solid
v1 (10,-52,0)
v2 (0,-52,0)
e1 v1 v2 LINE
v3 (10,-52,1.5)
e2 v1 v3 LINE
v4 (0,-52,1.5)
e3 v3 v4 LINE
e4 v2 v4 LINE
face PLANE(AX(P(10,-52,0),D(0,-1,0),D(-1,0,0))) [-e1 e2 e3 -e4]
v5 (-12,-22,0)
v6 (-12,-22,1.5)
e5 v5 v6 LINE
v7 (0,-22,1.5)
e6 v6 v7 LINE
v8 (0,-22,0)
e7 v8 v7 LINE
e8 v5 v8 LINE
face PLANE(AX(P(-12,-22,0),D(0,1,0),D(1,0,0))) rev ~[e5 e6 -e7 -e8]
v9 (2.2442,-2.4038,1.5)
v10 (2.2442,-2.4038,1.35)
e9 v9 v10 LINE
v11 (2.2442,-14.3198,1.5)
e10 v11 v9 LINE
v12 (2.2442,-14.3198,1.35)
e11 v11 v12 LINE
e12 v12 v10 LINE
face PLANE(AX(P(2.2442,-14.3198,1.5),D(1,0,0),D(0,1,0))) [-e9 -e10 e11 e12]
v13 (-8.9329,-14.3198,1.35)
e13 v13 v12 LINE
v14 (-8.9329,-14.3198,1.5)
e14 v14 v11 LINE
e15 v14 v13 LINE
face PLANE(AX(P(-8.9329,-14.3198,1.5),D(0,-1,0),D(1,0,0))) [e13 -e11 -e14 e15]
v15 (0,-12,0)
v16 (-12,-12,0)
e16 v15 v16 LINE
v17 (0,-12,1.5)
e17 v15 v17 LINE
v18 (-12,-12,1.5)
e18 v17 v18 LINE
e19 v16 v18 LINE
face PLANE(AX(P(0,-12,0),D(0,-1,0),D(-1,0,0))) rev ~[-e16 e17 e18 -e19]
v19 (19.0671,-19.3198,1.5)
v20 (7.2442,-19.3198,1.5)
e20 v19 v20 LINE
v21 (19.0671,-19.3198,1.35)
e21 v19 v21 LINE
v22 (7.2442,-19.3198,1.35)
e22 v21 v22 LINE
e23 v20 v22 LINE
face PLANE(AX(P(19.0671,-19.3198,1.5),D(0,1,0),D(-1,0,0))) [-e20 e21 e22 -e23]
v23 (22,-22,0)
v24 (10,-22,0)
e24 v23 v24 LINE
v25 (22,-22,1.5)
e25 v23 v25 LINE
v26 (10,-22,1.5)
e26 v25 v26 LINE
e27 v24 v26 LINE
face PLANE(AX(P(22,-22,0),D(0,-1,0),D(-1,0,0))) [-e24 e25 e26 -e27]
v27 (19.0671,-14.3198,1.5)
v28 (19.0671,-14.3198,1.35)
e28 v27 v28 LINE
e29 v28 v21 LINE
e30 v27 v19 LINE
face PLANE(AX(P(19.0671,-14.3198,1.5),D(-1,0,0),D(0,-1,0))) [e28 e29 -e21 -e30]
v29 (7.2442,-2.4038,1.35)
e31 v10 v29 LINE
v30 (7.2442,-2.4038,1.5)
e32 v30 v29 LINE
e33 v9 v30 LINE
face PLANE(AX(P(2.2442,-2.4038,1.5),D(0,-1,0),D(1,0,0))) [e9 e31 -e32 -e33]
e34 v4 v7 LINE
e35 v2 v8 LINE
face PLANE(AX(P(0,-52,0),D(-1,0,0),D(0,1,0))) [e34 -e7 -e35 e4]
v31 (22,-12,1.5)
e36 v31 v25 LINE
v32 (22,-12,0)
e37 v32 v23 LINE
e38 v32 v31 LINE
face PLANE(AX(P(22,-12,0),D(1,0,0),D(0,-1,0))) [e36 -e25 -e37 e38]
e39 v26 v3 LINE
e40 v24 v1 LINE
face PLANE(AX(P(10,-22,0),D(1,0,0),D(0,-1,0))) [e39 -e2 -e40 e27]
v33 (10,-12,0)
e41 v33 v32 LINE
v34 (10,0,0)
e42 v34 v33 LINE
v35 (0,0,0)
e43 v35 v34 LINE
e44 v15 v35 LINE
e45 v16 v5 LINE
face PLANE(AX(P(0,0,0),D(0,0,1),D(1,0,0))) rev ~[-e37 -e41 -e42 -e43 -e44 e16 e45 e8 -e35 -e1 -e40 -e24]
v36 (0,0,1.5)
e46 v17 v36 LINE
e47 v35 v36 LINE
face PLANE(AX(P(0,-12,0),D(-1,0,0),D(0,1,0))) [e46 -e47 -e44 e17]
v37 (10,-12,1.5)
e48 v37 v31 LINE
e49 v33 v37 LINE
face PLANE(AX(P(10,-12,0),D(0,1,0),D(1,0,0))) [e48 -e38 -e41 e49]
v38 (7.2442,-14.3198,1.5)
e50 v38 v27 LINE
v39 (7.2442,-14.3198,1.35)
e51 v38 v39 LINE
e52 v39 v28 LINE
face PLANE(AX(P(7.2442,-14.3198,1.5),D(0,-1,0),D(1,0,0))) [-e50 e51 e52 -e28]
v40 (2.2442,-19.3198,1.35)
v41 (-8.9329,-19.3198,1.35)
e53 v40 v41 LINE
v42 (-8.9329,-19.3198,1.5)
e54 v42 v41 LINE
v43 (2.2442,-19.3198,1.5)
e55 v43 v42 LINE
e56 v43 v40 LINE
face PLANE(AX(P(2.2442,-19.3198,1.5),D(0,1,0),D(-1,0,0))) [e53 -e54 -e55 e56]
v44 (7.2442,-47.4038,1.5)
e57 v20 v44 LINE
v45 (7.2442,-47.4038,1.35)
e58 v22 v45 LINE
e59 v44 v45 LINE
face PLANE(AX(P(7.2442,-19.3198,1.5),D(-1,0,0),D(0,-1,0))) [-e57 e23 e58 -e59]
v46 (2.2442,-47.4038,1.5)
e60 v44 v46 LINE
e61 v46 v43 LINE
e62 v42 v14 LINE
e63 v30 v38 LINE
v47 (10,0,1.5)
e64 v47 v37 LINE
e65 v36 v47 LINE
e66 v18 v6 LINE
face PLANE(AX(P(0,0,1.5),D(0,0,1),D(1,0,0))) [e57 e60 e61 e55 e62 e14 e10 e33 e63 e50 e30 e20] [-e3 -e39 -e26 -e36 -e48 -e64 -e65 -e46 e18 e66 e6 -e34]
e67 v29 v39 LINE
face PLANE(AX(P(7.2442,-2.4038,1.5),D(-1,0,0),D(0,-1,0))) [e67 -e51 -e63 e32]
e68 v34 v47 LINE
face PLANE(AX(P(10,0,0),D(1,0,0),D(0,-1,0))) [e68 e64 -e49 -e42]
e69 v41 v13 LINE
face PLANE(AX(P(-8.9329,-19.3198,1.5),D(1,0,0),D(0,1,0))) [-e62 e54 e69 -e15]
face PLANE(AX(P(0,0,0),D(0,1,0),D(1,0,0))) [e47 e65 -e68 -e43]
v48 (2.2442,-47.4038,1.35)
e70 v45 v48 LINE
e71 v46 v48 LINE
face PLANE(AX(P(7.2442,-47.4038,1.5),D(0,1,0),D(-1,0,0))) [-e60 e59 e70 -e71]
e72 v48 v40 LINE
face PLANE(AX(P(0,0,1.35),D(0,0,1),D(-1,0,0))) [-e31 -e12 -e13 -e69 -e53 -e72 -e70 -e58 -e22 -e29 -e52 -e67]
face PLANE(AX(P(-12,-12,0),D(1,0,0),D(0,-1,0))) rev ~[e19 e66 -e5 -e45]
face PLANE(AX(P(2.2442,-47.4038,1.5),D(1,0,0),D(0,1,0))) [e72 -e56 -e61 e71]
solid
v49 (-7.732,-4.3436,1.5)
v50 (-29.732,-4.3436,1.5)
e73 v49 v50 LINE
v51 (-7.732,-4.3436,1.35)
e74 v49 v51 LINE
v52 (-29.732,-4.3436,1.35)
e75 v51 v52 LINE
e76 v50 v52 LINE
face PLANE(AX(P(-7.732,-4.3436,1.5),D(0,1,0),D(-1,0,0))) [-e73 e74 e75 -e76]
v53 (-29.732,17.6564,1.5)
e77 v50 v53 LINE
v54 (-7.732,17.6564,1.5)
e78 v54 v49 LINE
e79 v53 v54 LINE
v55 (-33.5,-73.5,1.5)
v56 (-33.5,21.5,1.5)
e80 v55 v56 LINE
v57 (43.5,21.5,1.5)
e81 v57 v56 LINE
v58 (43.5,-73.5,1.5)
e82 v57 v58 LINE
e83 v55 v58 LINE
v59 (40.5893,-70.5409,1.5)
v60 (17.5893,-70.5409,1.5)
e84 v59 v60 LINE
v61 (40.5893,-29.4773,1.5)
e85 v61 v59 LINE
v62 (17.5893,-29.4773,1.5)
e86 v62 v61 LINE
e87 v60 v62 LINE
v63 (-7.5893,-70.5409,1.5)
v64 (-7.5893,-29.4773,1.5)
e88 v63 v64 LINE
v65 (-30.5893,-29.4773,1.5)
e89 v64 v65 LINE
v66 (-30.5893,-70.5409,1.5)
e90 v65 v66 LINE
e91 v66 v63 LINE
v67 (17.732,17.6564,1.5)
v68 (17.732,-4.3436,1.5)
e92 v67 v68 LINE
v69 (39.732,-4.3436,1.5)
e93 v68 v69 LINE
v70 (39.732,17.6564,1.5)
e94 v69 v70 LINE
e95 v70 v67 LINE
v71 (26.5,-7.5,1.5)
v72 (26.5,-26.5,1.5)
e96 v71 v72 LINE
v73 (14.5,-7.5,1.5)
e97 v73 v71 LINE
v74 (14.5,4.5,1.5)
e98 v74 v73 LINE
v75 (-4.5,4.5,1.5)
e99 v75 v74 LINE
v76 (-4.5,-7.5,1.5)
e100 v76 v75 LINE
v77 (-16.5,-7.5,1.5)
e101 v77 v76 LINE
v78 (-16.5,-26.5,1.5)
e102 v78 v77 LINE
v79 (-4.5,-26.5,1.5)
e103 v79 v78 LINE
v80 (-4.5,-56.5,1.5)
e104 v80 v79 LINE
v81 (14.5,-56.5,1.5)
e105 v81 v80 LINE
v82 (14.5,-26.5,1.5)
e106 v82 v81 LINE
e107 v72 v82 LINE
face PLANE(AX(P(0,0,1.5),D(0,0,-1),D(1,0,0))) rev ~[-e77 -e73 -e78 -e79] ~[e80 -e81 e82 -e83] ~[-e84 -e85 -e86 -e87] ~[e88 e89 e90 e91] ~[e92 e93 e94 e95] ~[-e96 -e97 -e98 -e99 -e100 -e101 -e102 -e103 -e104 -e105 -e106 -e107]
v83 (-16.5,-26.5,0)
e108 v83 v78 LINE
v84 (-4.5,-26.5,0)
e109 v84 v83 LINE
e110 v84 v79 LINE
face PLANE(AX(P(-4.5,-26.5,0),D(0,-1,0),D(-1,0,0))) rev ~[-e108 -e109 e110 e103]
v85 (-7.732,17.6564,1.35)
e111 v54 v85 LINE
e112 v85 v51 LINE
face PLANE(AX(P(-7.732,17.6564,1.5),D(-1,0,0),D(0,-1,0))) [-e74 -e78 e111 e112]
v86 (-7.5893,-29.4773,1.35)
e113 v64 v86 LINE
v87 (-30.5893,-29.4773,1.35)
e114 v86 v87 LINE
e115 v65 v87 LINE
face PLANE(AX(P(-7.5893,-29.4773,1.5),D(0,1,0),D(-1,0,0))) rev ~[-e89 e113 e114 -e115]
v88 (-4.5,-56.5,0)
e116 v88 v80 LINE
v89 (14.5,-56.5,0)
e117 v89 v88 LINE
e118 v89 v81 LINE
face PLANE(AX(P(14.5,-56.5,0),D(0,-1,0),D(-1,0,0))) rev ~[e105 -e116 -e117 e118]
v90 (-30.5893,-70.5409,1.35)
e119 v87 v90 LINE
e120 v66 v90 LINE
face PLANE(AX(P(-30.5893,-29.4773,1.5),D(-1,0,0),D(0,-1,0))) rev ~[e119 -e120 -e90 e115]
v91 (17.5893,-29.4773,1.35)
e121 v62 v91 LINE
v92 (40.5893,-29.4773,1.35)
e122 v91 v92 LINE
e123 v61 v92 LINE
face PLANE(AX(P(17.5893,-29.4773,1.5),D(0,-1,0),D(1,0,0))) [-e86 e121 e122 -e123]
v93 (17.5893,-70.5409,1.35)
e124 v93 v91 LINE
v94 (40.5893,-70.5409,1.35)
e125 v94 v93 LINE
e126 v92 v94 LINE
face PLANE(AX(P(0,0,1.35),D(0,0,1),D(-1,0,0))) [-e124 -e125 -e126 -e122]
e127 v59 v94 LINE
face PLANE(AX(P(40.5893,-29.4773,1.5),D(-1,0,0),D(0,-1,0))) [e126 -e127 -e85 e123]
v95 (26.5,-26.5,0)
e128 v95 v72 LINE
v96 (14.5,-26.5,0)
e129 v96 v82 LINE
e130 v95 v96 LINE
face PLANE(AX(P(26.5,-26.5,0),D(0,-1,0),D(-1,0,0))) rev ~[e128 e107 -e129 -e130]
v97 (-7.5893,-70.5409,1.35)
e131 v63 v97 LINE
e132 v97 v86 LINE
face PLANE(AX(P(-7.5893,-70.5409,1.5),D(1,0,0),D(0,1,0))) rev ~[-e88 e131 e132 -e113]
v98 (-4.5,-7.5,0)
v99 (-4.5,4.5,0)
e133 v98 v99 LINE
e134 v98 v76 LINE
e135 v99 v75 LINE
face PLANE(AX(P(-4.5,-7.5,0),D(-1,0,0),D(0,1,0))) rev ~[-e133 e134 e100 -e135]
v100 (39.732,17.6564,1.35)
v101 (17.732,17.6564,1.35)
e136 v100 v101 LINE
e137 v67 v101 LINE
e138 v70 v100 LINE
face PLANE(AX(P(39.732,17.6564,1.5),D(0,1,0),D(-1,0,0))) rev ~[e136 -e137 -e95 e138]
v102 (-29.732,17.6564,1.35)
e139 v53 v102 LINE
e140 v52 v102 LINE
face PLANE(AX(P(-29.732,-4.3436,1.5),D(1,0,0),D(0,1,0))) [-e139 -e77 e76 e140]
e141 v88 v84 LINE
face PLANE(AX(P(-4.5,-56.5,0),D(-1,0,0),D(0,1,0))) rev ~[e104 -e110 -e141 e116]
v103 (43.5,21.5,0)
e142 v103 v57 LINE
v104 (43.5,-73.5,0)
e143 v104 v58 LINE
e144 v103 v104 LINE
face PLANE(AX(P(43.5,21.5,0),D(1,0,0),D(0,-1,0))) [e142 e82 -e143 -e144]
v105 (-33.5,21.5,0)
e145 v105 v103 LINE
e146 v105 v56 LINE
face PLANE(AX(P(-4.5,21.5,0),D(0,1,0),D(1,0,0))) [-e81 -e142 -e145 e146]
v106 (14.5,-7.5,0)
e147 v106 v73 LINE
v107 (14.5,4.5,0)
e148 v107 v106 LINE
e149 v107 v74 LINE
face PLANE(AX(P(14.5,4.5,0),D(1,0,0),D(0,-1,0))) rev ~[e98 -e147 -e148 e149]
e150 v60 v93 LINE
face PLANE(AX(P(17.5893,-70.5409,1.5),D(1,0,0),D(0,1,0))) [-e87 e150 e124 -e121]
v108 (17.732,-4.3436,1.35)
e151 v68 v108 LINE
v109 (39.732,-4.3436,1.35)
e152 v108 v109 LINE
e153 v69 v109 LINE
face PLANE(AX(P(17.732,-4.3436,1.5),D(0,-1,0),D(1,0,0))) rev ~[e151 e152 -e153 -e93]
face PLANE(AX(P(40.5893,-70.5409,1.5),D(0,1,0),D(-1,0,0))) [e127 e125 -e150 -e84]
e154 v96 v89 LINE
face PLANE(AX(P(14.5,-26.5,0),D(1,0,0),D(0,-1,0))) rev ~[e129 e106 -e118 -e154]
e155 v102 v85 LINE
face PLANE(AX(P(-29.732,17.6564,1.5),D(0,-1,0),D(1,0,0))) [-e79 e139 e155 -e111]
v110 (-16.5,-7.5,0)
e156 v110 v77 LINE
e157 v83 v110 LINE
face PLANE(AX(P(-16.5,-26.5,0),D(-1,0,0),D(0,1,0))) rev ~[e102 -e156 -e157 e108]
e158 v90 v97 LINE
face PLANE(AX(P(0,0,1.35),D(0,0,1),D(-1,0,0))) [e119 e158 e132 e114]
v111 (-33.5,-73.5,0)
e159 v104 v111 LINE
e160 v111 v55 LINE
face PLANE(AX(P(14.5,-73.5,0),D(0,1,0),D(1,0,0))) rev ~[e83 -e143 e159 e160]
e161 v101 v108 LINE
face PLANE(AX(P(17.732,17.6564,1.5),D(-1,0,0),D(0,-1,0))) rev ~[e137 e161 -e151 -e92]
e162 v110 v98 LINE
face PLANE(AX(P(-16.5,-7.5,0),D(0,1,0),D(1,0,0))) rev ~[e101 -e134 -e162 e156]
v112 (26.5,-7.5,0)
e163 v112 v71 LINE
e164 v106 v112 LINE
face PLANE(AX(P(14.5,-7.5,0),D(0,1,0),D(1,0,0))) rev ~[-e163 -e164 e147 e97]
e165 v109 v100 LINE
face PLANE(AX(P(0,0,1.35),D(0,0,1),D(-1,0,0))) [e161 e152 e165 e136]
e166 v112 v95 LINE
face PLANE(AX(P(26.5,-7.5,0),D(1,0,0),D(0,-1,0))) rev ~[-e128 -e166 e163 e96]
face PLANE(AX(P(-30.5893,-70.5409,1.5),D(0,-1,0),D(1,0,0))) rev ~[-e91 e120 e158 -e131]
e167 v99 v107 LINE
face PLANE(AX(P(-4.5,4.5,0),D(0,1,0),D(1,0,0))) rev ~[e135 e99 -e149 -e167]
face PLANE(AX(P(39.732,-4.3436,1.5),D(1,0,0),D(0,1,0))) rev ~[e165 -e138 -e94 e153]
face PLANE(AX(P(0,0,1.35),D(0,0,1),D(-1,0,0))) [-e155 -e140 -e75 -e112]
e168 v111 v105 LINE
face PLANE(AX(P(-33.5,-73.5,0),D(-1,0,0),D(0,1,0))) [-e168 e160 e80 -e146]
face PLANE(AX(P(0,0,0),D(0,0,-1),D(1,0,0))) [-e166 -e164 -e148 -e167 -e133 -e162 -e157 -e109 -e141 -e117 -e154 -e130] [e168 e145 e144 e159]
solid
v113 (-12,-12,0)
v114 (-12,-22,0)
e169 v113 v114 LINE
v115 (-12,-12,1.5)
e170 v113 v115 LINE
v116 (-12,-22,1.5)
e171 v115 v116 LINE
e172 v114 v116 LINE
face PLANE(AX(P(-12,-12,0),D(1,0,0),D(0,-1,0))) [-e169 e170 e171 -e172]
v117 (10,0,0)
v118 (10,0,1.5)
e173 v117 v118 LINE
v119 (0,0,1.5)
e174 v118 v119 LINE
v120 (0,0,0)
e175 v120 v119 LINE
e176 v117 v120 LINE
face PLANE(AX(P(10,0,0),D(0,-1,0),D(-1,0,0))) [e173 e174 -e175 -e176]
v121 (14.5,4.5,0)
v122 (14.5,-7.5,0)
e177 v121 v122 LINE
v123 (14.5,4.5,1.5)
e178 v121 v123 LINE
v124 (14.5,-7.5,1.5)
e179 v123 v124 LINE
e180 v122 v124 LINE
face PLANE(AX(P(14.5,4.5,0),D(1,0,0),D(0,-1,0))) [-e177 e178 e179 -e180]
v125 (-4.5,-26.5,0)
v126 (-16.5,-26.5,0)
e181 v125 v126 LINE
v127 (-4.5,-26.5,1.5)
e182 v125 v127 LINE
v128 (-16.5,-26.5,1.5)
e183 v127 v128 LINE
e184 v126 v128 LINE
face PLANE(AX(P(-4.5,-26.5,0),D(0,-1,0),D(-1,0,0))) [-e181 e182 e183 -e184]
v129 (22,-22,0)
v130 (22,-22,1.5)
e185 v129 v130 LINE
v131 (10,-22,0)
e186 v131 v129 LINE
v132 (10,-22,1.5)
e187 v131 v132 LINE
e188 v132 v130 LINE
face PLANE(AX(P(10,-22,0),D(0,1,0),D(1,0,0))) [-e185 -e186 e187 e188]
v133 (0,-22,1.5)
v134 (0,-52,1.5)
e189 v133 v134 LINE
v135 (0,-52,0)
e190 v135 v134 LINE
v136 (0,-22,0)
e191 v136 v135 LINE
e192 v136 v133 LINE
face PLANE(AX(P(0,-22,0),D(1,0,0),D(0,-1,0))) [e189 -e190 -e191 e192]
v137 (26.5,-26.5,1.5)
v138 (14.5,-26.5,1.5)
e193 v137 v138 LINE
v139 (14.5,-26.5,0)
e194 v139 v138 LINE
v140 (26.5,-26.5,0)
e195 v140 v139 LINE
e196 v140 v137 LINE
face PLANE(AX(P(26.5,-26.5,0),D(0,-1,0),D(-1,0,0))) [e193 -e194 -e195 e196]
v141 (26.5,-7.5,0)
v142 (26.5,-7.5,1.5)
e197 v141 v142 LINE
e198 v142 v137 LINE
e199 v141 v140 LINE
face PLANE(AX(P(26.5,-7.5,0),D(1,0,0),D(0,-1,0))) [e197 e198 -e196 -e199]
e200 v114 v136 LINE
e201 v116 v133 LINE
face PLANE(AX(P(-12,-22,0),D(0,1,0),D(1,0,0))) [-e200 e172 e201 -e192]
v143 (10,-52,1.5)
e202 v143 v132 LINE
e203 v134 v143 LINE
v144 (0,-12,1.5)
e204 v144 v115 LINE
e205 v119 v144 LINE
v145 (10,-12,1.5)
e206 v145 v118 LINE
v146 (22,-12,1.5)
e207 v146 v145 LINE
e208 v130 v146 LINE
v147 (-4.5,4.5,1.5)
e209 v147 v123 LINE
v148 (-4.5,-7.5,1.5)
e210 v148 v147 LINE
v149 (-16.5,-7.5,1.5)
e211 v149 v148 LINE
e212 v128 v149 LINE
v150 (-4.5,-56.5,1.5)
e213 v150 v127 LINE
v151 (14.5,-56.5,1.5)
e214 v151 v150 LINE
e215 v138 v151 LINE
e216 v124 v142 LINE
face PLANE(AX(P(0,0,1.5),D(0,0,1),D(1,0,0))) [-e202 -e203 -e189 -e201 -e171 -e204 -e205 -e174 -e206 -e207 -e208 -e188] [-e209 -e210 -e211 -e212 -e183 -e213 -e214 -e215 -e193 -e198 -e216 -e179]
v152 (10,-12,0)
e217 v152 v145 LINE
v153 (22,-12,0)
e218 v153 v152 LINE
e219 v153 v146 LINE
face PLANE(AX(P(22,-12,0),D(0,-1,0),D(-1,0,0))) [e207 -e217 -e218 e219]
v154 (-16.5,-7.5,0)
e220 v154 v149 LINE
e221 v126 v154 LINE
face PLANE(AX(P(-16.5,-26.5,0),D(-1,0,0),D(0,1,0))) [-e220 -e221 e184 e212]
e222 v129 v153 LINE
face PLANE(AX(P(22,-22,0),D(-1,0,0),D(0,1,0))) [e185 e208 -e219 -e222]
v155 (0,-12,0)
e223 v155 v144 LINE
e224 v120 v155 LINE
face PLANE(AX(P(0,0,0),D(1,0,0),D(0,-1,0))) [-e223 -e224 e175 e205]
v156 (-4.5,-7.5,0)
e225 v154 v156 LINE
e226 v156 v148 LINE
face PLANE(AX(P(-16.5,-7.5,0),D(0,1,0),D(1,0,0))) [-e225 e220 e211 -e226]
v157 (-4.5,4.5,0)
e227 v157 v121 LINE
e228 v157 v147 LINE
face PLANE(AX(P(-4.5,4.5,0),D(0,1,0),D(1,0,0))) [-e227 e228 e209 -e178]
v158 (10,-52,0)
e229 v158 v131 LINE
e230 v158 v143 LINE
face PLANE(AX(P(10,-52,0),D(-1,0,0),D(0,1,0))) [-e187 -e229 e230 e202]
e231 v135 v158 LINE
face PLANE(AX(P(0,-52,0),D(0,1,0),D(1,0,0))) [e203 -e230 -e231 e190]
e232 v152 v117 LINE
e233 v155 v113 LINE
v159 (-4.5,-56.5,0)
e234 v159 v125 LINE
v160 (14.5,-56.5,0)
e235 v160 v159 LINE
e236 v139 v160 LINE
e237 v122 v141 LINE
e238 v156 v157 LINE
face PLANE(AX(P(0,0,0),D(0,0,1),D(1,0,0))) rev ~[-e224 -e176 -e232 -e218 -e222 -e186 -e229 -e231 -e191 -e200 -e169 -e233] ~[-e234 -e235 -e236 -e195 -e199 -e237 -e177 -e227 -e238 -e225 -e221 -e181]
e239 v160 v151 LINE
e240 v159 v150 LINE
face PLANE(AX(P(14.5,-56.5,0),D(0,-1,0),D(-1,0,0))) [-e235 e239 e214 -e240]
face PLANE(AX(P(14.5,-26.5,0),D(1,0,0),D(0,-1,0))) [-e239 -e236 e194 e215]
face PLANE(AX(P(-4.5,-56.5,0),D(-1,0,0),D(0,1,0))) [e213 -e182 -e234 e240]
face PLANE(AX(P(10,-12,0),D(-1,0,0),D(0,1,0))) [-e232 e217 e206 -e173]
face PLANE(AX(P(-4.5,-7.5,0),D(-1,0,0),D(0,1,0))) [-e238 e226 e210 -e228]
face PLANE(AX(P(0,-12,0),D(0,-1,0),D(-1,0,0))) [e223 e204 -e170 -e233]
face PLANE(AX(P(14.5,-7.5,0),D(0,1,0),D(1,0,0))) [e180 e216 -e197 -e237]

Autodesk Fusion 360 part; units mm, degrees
sketch "Sketch1" plane through (0, 0, 0) normal (0, 0, 1) x (1, 0, 0)
  line L0 (0, 0) -> (10, 0)
  line L1 (10, 0) -> (10, -12)
  line L2 (10, -12) -> (0, -12)
  line L3 (0, -12) -> (0, 0)
  line L4 (0, -12) -> (-12, -12)
  line L5 (-12, -12) -> (-12, -22)
  line L6 (-12, -22) -> (0, -22)
  line L7 (0, -22) -> (0, -12)
  line L8 (10, -12) -> (22, -12)
  line L9 (22, -12) -> (22, -22)
  line L10 (22, -22) -> (10, -22)
  line L11 (10, -22) -> (10, -12)
  line L12 (0, -22) -> (10, -22)
  line L13 (10, -22) -> (10, -52)
  line L14 (10, -52) -> (0, -52)
  line L15 (0, -52) -> (0, -22)
  dimension "d1" = 10
  dimension "d2" = 12
  dimension "d3" = 12
  dimension "d4" = 10
  dimension "d5" = 12
  dimension "d6" = 10
  dimension "d7" = 30
extrude "Extrude1" add sketch "Sketch1" along normal blind 1.5 makes body 1
sketch "Sketch2" plane through (0, 0, 0) normal (0, 0, -1) x (1, 0, 0)
  line L0 (-12, 12) -> (0, 12)
  line L1 (0, 12) -> (0, 0)
  line L2 (0, 0) -> (10, 0)
  line L3 (10, 0) -> (10, 12)
  line L4 (10, 12) -> (22, 12)
  line L5 (22, 12) -> (22, 22)
  line L6 (22, 22) -> (10, 22)
  line L7 (10, 22) -> (10, 52)
  line L8 (10, 52) -> (0, 52)
  line L9 (0, 52) -> (0, 22)
  line L10 (0, 22) -> (-12, 22)
  line L11 (-12, 22) -> (-12, 12)
  line L12 (26.5, 7.5) -> (26.5, 26.5)
  line L13 (26.5, 26.5) -> (14.5, 26.5)
  line L14 (14.5, 26.5) -> (14.5, 56.5)
  line L15 (14.5, 56.5) -> (-4.5, 56.5)
  line L16 (-4.5, 56.5) -> (-4.5, 26.5)
  line L17 (-4.5, 26.5) -> (-16.5, 26.5)
  line L18 (-16.5, 26.5) -> (-16.5, 7.5)
  line L19 (-16.5, 7.5) -> (-4.5, 7.5)
  line L20 (-4.5, 7.5) -> (-4.5, -4.5)
  line L21 (-4.5, -4.5) -> (14.5, -4.5)
  line L22 (14.5, -4.5) -> (14.5, 7.5)
  line L23 (14.5, 7.5) -> (26.5, 7.5)
  line L24 (-4.5, -4.5) -> (-4.5, -21.5)
  line L25 (14.5, 56.5) -> (14.5, 73.5)
  line L26 (14.5, 73.5) -> (43.5, 73.5)
  line L27 (-4.5, -21.5) -> (-33.5, -21.5)
  line L28 (-33.5, -21.5) -> (43.5, -21.5)
  line L29 (43.5, -21.5) -> (43.5, 73.5)
  line L30 (43.5, 73.5) -> (-33.5, 73.5)
  line L31 (-33.5, 73.5) -> (-33.5, -21.5)
  dimension "d10" = 4.5
  dimension "d11" = 17
  dimension "d13" = 17
  dimension "d14" = 29
  dimension "d15" = 29
extrude "Extrude2" add sketch "Sketch2" against normal blind 1.5 separate body contours L12 L13 L14 L21 L22 L23 L24 L25 L26 L28 L29 L30 | L15 L16 L17 L18 L19 L20 L24 L25 L27 L28 L30 L31 makes body 2
sketch "Sketch3" plane through (0, 0, 1.5) normal (0, 0, 1) x (-1, 0, 0)
  line L0 (-14.5, 7.5) -> (-26.5, 7.5)
  line L1 (-26.5, 7.5) -> (-26.5, 26.5)
  line L2 (-26.5, 26.5) -> (-14.5, 26.5)
  line L3 (-14.5, 26.5) -> (-14.5, 56.5)
  line L4 (-14.5, 56.5) -> (4.5, 56.5)
  line L5 (4.5, 56.5) -> (4.5, 26.5)
  line L6 (4.5, 26.5) -> (16.5, 26.5)
  line L7 (16.5, 26.5) -> (16.5, 7.5)
  line L8 (16.5, 7.5) -> (4.5, 7.5)
  line L9 (4.5, 7.5) -> (4.5, -4.5)
  line L10 (4.5, -4.5) -> (-14.5, -4.5)
  line L11 (-14.5, -4.5) -> (-14.5, 7.5)
  line L12 (33.5, -21.5) -> (33.5, 73.5)
  line L13 (33.5, 73.5) -> (-43.5, 73.5)
  line L14 (-43.5, 73.5) -> (-43.5, -21.5)
  line L15 (-43.5, -21.5) -> (33.5, -21.5)
  line L16 (7.5893, 29.4773) -> (30.5893, 29.4773)
  line L17 (30.5893, 29.4773) -> (30.5893, 70.5409)
  line L18 (30.5893, 70.5409) -> (7.5893, 70.5409)
  line L19 (7.5893, 70.5409) -> (7.5893, 29.4773)
  line L20 (7.732, 4.3436) -> (29.732, 4.3436)
  line L21 (29.732, 4.3436) -> (29.732, -17.6564)
  line L22 (29.732, -17.6564) -> (7.732, -17.6564)
  line L23 (7.732, -17.6564) -> (7.732, 4.3436)
  line L24 (-5, -4.5) -> (-5, -13.4842)
  line L25 (8.9329, 14.3198) -> (-19.0671, 14.3198)
  line L26 (-19.0671, 14.3198) -> (-19.0671, 19.3198)
  line L27 (-19.0671, 19.3198) -> (8.9329, 19.3198)
  line L28 (8.9329, 19.3198) -> (8.9329, 14.3198)
  line L29 (-2.2442, 2.4038) -> (-7.2442, 2.4038)
  line L30 (-7.2442, 2.4038) -> (-7.2442, 47.4038)
  line L31 (-7.2442, 47.4038) -> (-2.2442, 47.4038)
  line L32 (-2.2442, 47.4038) -> (-2.2442, 2.4038)
  line L33 (-17.732, 4.3436) -> (-39.732, 4.3436)
  line L34 (-39.732, 4.3436) -> (-39.732, -17.6564)
  line L35 (-39.732, -17.6564) -> (-17.732, -17.6564)
  line L36 (-17.732, -17.6564) -> (-17.732, 4.3436)
  line L37 (-17.5893, 29.4773) -> (-40.5893, 29.4773)
  line L38 (-17.5893, 70.5409) -> (-17.5893, 29.4773)
  line L39 (-40.5893, 29.4773) -> (-40.5893, 70.5409)
  line L40 (-40.5893, 70.5409) -> (-17.5893, 70.5409)
  dimension "d18" = 23
  dimension "d19" = 22
  dimension "d20" = 22
  dimension "d21" = 28
  dimension "d22" = 5
  dimension "d23" = 5
  dimension "d24" = 45
extrude "Extrude3" cut sketch "Sketch3" against normal blind 0.15 contours L16 L17 L18 L19 | L20 L21 L22 L23 | L25 L27 L28 L32 | L25 L29 L30 L32 | L25 L27 L30 L32 | L25 L26 L27 L30 | L27 L30 L31 L32 | L33 L34 L35 L36 | L37 L38 L39 L40 bodies 1 2
sketch "Sketch4" plane through (0, 0, 0) normal (0, 0, 1) x (1, 0, 0)
  line L0 (0, -12) -> (-12, -12)
  line L1 (0, 0) -> (0, -12)
  line L2 (10, 0) -> (0, 0)
  line L3 (7.2442, -19.3198) -> (7.2442, -47.4038)
  line L4 (7.2442, -47.4038) -> (2.2442, -47.4038)
  line L5 (2.2442, -47.4038) -> (2.2442, -19.3198)
  line L6 (2.2442, -19.3198) -> (-8.9329, -19.3198)
  line L7 (-8.9329, -19.3198) -> (-8.9329, -14.3198)
  line L8 (-8.9329, -14.3198) -> (2.2442, -14.3198)
  line L9 (2.2442, -14.3198) -> (2.2442, -2.4038)
  line L10 (2.2442, -2.4038) -> (7.2442, -2.4038)
  line L11 (7.2442, -2.4038) -> (7.2442, -14.3198)
  line L12 (7.2442, -14.3198) -> (19.0671, -14.3198)
  line L13 (19.0671, -14.3198) -> (19.0671, -19.3198)
  line L14 (19.0671, -19.3198) -> (7.2442, -19.3198)
  line L15 (0, -12) -> (-12, -12)
  line L16 (-12, -12) -> (-12, -22)
  line L17 (-12, -22) -> (0, -22)
  line L18 (0, -22) -> (0, -52)
  line L19 (0, -52) -> (10, -52)
  line L20 (10, -52) -> (10, -22)
  line L21 (10, -22) -> (22, -22)
  line L22 (22, -22) -> (22, -12)
  line L23 (22, -12) -> (10, -12)
  line L24 (10, -12) -> (10, 0)
  line L25 (10, 0) -> (0, 0)
  line L26 (0, 0) -> (0, -12)
  line L27 (39.732, -4.3436) -> (17.732, -4.3436)
  line L28 (17.732, -4.3436) -> (17.732, 17.6564)
  line L29 (17.732, 17.6564) -> (39.732, 17.6564)
  line L30 (39.732, 17.6564) -> (39.732, -4.3436)
  line L31 (-30.5893, -29.4773) -> (-7.5893, -29.4773)
  line L32 (-7.5893, -29.4773) -> (-7.5893, -70.5409)
  line L33 (-7.5893, -70.5409) -> (-30.5893, -70.5409)
  line L34 (-30.5893, -70.5409) -> (-30.5893, -29.4773)
  line L35 (-29.732, -4.3436) -> (-29.732, 17.6564)
  line L36 (-29.732, 17.6564) -> (-7.732, 17.6564)
  line L37 (-7.732, 17.6564) -> (-7.732, -4.3436)
  line L38 (-7.732, -4.3436) -> (-29.732, -4.3436)
  line L39 (17.5893, -29.4773) -> (40.5893, -29.4773)
  line L40 (40.5893, -29.4773) -> (40.5893, -70.5409)
  line L41 (40.5893, -70.5409) -> (17.5893, -70.5409)
  line L42 (17.5893, -70.5409) -> (17.5893, -29.4773)
  line L43 (14.5, -7.5) -> (26.5, -7.5)
  line L44 (26.5, -7.5) -> (26.5, -26.5)
  line L45 (26.5, -26.5) -> (14.5, -26.5)
  line L46 (14.5, -26.5) -> (14.5, -56.5)
  line L47 (14.5, -56.5) -> (-4.5, -56.5)
  line L48 (-4.5, -56.5) -> (-4.5, -26.5)
  line L49 (-4.5, -26.5) -> (-16.5, -26.5)
  line L50 (-16.5, -26.5) -> (-16.5, -7.5)
  line L51 (-16.5, -7.5) -> (-4.5, -7.5)
  line L52 (-4.5, -7.5) -> (-4.5, 4.5)
  line L53 (-4.5, 4.5) -> (14.5, 4.5)
  line L54 (14.5, 4.5) -> (14.5, -7.5)
  line L55 (-33.5, 21.5) -> (-33.5, -73.5)
  line L56 (-33.5, -73.5) -> (43.5, -73.5)
  line L57 (43.5, -73.5) -> (43.5, 21.5)
  line L58 (43.5, 21.5) -> (-33.5, 21.5)
extrude "Extrude4" add sketch "Sketch4" along normal blind 1.5 separate body contours L43 L44 L45 L46 L47 L48 L49 L50 L51 L52 L53 L54 makes body 3
equation "d13 = d11"
equation "d14 = d13 + 12 mm"
equation "d15 = d11 + 12 mm"
